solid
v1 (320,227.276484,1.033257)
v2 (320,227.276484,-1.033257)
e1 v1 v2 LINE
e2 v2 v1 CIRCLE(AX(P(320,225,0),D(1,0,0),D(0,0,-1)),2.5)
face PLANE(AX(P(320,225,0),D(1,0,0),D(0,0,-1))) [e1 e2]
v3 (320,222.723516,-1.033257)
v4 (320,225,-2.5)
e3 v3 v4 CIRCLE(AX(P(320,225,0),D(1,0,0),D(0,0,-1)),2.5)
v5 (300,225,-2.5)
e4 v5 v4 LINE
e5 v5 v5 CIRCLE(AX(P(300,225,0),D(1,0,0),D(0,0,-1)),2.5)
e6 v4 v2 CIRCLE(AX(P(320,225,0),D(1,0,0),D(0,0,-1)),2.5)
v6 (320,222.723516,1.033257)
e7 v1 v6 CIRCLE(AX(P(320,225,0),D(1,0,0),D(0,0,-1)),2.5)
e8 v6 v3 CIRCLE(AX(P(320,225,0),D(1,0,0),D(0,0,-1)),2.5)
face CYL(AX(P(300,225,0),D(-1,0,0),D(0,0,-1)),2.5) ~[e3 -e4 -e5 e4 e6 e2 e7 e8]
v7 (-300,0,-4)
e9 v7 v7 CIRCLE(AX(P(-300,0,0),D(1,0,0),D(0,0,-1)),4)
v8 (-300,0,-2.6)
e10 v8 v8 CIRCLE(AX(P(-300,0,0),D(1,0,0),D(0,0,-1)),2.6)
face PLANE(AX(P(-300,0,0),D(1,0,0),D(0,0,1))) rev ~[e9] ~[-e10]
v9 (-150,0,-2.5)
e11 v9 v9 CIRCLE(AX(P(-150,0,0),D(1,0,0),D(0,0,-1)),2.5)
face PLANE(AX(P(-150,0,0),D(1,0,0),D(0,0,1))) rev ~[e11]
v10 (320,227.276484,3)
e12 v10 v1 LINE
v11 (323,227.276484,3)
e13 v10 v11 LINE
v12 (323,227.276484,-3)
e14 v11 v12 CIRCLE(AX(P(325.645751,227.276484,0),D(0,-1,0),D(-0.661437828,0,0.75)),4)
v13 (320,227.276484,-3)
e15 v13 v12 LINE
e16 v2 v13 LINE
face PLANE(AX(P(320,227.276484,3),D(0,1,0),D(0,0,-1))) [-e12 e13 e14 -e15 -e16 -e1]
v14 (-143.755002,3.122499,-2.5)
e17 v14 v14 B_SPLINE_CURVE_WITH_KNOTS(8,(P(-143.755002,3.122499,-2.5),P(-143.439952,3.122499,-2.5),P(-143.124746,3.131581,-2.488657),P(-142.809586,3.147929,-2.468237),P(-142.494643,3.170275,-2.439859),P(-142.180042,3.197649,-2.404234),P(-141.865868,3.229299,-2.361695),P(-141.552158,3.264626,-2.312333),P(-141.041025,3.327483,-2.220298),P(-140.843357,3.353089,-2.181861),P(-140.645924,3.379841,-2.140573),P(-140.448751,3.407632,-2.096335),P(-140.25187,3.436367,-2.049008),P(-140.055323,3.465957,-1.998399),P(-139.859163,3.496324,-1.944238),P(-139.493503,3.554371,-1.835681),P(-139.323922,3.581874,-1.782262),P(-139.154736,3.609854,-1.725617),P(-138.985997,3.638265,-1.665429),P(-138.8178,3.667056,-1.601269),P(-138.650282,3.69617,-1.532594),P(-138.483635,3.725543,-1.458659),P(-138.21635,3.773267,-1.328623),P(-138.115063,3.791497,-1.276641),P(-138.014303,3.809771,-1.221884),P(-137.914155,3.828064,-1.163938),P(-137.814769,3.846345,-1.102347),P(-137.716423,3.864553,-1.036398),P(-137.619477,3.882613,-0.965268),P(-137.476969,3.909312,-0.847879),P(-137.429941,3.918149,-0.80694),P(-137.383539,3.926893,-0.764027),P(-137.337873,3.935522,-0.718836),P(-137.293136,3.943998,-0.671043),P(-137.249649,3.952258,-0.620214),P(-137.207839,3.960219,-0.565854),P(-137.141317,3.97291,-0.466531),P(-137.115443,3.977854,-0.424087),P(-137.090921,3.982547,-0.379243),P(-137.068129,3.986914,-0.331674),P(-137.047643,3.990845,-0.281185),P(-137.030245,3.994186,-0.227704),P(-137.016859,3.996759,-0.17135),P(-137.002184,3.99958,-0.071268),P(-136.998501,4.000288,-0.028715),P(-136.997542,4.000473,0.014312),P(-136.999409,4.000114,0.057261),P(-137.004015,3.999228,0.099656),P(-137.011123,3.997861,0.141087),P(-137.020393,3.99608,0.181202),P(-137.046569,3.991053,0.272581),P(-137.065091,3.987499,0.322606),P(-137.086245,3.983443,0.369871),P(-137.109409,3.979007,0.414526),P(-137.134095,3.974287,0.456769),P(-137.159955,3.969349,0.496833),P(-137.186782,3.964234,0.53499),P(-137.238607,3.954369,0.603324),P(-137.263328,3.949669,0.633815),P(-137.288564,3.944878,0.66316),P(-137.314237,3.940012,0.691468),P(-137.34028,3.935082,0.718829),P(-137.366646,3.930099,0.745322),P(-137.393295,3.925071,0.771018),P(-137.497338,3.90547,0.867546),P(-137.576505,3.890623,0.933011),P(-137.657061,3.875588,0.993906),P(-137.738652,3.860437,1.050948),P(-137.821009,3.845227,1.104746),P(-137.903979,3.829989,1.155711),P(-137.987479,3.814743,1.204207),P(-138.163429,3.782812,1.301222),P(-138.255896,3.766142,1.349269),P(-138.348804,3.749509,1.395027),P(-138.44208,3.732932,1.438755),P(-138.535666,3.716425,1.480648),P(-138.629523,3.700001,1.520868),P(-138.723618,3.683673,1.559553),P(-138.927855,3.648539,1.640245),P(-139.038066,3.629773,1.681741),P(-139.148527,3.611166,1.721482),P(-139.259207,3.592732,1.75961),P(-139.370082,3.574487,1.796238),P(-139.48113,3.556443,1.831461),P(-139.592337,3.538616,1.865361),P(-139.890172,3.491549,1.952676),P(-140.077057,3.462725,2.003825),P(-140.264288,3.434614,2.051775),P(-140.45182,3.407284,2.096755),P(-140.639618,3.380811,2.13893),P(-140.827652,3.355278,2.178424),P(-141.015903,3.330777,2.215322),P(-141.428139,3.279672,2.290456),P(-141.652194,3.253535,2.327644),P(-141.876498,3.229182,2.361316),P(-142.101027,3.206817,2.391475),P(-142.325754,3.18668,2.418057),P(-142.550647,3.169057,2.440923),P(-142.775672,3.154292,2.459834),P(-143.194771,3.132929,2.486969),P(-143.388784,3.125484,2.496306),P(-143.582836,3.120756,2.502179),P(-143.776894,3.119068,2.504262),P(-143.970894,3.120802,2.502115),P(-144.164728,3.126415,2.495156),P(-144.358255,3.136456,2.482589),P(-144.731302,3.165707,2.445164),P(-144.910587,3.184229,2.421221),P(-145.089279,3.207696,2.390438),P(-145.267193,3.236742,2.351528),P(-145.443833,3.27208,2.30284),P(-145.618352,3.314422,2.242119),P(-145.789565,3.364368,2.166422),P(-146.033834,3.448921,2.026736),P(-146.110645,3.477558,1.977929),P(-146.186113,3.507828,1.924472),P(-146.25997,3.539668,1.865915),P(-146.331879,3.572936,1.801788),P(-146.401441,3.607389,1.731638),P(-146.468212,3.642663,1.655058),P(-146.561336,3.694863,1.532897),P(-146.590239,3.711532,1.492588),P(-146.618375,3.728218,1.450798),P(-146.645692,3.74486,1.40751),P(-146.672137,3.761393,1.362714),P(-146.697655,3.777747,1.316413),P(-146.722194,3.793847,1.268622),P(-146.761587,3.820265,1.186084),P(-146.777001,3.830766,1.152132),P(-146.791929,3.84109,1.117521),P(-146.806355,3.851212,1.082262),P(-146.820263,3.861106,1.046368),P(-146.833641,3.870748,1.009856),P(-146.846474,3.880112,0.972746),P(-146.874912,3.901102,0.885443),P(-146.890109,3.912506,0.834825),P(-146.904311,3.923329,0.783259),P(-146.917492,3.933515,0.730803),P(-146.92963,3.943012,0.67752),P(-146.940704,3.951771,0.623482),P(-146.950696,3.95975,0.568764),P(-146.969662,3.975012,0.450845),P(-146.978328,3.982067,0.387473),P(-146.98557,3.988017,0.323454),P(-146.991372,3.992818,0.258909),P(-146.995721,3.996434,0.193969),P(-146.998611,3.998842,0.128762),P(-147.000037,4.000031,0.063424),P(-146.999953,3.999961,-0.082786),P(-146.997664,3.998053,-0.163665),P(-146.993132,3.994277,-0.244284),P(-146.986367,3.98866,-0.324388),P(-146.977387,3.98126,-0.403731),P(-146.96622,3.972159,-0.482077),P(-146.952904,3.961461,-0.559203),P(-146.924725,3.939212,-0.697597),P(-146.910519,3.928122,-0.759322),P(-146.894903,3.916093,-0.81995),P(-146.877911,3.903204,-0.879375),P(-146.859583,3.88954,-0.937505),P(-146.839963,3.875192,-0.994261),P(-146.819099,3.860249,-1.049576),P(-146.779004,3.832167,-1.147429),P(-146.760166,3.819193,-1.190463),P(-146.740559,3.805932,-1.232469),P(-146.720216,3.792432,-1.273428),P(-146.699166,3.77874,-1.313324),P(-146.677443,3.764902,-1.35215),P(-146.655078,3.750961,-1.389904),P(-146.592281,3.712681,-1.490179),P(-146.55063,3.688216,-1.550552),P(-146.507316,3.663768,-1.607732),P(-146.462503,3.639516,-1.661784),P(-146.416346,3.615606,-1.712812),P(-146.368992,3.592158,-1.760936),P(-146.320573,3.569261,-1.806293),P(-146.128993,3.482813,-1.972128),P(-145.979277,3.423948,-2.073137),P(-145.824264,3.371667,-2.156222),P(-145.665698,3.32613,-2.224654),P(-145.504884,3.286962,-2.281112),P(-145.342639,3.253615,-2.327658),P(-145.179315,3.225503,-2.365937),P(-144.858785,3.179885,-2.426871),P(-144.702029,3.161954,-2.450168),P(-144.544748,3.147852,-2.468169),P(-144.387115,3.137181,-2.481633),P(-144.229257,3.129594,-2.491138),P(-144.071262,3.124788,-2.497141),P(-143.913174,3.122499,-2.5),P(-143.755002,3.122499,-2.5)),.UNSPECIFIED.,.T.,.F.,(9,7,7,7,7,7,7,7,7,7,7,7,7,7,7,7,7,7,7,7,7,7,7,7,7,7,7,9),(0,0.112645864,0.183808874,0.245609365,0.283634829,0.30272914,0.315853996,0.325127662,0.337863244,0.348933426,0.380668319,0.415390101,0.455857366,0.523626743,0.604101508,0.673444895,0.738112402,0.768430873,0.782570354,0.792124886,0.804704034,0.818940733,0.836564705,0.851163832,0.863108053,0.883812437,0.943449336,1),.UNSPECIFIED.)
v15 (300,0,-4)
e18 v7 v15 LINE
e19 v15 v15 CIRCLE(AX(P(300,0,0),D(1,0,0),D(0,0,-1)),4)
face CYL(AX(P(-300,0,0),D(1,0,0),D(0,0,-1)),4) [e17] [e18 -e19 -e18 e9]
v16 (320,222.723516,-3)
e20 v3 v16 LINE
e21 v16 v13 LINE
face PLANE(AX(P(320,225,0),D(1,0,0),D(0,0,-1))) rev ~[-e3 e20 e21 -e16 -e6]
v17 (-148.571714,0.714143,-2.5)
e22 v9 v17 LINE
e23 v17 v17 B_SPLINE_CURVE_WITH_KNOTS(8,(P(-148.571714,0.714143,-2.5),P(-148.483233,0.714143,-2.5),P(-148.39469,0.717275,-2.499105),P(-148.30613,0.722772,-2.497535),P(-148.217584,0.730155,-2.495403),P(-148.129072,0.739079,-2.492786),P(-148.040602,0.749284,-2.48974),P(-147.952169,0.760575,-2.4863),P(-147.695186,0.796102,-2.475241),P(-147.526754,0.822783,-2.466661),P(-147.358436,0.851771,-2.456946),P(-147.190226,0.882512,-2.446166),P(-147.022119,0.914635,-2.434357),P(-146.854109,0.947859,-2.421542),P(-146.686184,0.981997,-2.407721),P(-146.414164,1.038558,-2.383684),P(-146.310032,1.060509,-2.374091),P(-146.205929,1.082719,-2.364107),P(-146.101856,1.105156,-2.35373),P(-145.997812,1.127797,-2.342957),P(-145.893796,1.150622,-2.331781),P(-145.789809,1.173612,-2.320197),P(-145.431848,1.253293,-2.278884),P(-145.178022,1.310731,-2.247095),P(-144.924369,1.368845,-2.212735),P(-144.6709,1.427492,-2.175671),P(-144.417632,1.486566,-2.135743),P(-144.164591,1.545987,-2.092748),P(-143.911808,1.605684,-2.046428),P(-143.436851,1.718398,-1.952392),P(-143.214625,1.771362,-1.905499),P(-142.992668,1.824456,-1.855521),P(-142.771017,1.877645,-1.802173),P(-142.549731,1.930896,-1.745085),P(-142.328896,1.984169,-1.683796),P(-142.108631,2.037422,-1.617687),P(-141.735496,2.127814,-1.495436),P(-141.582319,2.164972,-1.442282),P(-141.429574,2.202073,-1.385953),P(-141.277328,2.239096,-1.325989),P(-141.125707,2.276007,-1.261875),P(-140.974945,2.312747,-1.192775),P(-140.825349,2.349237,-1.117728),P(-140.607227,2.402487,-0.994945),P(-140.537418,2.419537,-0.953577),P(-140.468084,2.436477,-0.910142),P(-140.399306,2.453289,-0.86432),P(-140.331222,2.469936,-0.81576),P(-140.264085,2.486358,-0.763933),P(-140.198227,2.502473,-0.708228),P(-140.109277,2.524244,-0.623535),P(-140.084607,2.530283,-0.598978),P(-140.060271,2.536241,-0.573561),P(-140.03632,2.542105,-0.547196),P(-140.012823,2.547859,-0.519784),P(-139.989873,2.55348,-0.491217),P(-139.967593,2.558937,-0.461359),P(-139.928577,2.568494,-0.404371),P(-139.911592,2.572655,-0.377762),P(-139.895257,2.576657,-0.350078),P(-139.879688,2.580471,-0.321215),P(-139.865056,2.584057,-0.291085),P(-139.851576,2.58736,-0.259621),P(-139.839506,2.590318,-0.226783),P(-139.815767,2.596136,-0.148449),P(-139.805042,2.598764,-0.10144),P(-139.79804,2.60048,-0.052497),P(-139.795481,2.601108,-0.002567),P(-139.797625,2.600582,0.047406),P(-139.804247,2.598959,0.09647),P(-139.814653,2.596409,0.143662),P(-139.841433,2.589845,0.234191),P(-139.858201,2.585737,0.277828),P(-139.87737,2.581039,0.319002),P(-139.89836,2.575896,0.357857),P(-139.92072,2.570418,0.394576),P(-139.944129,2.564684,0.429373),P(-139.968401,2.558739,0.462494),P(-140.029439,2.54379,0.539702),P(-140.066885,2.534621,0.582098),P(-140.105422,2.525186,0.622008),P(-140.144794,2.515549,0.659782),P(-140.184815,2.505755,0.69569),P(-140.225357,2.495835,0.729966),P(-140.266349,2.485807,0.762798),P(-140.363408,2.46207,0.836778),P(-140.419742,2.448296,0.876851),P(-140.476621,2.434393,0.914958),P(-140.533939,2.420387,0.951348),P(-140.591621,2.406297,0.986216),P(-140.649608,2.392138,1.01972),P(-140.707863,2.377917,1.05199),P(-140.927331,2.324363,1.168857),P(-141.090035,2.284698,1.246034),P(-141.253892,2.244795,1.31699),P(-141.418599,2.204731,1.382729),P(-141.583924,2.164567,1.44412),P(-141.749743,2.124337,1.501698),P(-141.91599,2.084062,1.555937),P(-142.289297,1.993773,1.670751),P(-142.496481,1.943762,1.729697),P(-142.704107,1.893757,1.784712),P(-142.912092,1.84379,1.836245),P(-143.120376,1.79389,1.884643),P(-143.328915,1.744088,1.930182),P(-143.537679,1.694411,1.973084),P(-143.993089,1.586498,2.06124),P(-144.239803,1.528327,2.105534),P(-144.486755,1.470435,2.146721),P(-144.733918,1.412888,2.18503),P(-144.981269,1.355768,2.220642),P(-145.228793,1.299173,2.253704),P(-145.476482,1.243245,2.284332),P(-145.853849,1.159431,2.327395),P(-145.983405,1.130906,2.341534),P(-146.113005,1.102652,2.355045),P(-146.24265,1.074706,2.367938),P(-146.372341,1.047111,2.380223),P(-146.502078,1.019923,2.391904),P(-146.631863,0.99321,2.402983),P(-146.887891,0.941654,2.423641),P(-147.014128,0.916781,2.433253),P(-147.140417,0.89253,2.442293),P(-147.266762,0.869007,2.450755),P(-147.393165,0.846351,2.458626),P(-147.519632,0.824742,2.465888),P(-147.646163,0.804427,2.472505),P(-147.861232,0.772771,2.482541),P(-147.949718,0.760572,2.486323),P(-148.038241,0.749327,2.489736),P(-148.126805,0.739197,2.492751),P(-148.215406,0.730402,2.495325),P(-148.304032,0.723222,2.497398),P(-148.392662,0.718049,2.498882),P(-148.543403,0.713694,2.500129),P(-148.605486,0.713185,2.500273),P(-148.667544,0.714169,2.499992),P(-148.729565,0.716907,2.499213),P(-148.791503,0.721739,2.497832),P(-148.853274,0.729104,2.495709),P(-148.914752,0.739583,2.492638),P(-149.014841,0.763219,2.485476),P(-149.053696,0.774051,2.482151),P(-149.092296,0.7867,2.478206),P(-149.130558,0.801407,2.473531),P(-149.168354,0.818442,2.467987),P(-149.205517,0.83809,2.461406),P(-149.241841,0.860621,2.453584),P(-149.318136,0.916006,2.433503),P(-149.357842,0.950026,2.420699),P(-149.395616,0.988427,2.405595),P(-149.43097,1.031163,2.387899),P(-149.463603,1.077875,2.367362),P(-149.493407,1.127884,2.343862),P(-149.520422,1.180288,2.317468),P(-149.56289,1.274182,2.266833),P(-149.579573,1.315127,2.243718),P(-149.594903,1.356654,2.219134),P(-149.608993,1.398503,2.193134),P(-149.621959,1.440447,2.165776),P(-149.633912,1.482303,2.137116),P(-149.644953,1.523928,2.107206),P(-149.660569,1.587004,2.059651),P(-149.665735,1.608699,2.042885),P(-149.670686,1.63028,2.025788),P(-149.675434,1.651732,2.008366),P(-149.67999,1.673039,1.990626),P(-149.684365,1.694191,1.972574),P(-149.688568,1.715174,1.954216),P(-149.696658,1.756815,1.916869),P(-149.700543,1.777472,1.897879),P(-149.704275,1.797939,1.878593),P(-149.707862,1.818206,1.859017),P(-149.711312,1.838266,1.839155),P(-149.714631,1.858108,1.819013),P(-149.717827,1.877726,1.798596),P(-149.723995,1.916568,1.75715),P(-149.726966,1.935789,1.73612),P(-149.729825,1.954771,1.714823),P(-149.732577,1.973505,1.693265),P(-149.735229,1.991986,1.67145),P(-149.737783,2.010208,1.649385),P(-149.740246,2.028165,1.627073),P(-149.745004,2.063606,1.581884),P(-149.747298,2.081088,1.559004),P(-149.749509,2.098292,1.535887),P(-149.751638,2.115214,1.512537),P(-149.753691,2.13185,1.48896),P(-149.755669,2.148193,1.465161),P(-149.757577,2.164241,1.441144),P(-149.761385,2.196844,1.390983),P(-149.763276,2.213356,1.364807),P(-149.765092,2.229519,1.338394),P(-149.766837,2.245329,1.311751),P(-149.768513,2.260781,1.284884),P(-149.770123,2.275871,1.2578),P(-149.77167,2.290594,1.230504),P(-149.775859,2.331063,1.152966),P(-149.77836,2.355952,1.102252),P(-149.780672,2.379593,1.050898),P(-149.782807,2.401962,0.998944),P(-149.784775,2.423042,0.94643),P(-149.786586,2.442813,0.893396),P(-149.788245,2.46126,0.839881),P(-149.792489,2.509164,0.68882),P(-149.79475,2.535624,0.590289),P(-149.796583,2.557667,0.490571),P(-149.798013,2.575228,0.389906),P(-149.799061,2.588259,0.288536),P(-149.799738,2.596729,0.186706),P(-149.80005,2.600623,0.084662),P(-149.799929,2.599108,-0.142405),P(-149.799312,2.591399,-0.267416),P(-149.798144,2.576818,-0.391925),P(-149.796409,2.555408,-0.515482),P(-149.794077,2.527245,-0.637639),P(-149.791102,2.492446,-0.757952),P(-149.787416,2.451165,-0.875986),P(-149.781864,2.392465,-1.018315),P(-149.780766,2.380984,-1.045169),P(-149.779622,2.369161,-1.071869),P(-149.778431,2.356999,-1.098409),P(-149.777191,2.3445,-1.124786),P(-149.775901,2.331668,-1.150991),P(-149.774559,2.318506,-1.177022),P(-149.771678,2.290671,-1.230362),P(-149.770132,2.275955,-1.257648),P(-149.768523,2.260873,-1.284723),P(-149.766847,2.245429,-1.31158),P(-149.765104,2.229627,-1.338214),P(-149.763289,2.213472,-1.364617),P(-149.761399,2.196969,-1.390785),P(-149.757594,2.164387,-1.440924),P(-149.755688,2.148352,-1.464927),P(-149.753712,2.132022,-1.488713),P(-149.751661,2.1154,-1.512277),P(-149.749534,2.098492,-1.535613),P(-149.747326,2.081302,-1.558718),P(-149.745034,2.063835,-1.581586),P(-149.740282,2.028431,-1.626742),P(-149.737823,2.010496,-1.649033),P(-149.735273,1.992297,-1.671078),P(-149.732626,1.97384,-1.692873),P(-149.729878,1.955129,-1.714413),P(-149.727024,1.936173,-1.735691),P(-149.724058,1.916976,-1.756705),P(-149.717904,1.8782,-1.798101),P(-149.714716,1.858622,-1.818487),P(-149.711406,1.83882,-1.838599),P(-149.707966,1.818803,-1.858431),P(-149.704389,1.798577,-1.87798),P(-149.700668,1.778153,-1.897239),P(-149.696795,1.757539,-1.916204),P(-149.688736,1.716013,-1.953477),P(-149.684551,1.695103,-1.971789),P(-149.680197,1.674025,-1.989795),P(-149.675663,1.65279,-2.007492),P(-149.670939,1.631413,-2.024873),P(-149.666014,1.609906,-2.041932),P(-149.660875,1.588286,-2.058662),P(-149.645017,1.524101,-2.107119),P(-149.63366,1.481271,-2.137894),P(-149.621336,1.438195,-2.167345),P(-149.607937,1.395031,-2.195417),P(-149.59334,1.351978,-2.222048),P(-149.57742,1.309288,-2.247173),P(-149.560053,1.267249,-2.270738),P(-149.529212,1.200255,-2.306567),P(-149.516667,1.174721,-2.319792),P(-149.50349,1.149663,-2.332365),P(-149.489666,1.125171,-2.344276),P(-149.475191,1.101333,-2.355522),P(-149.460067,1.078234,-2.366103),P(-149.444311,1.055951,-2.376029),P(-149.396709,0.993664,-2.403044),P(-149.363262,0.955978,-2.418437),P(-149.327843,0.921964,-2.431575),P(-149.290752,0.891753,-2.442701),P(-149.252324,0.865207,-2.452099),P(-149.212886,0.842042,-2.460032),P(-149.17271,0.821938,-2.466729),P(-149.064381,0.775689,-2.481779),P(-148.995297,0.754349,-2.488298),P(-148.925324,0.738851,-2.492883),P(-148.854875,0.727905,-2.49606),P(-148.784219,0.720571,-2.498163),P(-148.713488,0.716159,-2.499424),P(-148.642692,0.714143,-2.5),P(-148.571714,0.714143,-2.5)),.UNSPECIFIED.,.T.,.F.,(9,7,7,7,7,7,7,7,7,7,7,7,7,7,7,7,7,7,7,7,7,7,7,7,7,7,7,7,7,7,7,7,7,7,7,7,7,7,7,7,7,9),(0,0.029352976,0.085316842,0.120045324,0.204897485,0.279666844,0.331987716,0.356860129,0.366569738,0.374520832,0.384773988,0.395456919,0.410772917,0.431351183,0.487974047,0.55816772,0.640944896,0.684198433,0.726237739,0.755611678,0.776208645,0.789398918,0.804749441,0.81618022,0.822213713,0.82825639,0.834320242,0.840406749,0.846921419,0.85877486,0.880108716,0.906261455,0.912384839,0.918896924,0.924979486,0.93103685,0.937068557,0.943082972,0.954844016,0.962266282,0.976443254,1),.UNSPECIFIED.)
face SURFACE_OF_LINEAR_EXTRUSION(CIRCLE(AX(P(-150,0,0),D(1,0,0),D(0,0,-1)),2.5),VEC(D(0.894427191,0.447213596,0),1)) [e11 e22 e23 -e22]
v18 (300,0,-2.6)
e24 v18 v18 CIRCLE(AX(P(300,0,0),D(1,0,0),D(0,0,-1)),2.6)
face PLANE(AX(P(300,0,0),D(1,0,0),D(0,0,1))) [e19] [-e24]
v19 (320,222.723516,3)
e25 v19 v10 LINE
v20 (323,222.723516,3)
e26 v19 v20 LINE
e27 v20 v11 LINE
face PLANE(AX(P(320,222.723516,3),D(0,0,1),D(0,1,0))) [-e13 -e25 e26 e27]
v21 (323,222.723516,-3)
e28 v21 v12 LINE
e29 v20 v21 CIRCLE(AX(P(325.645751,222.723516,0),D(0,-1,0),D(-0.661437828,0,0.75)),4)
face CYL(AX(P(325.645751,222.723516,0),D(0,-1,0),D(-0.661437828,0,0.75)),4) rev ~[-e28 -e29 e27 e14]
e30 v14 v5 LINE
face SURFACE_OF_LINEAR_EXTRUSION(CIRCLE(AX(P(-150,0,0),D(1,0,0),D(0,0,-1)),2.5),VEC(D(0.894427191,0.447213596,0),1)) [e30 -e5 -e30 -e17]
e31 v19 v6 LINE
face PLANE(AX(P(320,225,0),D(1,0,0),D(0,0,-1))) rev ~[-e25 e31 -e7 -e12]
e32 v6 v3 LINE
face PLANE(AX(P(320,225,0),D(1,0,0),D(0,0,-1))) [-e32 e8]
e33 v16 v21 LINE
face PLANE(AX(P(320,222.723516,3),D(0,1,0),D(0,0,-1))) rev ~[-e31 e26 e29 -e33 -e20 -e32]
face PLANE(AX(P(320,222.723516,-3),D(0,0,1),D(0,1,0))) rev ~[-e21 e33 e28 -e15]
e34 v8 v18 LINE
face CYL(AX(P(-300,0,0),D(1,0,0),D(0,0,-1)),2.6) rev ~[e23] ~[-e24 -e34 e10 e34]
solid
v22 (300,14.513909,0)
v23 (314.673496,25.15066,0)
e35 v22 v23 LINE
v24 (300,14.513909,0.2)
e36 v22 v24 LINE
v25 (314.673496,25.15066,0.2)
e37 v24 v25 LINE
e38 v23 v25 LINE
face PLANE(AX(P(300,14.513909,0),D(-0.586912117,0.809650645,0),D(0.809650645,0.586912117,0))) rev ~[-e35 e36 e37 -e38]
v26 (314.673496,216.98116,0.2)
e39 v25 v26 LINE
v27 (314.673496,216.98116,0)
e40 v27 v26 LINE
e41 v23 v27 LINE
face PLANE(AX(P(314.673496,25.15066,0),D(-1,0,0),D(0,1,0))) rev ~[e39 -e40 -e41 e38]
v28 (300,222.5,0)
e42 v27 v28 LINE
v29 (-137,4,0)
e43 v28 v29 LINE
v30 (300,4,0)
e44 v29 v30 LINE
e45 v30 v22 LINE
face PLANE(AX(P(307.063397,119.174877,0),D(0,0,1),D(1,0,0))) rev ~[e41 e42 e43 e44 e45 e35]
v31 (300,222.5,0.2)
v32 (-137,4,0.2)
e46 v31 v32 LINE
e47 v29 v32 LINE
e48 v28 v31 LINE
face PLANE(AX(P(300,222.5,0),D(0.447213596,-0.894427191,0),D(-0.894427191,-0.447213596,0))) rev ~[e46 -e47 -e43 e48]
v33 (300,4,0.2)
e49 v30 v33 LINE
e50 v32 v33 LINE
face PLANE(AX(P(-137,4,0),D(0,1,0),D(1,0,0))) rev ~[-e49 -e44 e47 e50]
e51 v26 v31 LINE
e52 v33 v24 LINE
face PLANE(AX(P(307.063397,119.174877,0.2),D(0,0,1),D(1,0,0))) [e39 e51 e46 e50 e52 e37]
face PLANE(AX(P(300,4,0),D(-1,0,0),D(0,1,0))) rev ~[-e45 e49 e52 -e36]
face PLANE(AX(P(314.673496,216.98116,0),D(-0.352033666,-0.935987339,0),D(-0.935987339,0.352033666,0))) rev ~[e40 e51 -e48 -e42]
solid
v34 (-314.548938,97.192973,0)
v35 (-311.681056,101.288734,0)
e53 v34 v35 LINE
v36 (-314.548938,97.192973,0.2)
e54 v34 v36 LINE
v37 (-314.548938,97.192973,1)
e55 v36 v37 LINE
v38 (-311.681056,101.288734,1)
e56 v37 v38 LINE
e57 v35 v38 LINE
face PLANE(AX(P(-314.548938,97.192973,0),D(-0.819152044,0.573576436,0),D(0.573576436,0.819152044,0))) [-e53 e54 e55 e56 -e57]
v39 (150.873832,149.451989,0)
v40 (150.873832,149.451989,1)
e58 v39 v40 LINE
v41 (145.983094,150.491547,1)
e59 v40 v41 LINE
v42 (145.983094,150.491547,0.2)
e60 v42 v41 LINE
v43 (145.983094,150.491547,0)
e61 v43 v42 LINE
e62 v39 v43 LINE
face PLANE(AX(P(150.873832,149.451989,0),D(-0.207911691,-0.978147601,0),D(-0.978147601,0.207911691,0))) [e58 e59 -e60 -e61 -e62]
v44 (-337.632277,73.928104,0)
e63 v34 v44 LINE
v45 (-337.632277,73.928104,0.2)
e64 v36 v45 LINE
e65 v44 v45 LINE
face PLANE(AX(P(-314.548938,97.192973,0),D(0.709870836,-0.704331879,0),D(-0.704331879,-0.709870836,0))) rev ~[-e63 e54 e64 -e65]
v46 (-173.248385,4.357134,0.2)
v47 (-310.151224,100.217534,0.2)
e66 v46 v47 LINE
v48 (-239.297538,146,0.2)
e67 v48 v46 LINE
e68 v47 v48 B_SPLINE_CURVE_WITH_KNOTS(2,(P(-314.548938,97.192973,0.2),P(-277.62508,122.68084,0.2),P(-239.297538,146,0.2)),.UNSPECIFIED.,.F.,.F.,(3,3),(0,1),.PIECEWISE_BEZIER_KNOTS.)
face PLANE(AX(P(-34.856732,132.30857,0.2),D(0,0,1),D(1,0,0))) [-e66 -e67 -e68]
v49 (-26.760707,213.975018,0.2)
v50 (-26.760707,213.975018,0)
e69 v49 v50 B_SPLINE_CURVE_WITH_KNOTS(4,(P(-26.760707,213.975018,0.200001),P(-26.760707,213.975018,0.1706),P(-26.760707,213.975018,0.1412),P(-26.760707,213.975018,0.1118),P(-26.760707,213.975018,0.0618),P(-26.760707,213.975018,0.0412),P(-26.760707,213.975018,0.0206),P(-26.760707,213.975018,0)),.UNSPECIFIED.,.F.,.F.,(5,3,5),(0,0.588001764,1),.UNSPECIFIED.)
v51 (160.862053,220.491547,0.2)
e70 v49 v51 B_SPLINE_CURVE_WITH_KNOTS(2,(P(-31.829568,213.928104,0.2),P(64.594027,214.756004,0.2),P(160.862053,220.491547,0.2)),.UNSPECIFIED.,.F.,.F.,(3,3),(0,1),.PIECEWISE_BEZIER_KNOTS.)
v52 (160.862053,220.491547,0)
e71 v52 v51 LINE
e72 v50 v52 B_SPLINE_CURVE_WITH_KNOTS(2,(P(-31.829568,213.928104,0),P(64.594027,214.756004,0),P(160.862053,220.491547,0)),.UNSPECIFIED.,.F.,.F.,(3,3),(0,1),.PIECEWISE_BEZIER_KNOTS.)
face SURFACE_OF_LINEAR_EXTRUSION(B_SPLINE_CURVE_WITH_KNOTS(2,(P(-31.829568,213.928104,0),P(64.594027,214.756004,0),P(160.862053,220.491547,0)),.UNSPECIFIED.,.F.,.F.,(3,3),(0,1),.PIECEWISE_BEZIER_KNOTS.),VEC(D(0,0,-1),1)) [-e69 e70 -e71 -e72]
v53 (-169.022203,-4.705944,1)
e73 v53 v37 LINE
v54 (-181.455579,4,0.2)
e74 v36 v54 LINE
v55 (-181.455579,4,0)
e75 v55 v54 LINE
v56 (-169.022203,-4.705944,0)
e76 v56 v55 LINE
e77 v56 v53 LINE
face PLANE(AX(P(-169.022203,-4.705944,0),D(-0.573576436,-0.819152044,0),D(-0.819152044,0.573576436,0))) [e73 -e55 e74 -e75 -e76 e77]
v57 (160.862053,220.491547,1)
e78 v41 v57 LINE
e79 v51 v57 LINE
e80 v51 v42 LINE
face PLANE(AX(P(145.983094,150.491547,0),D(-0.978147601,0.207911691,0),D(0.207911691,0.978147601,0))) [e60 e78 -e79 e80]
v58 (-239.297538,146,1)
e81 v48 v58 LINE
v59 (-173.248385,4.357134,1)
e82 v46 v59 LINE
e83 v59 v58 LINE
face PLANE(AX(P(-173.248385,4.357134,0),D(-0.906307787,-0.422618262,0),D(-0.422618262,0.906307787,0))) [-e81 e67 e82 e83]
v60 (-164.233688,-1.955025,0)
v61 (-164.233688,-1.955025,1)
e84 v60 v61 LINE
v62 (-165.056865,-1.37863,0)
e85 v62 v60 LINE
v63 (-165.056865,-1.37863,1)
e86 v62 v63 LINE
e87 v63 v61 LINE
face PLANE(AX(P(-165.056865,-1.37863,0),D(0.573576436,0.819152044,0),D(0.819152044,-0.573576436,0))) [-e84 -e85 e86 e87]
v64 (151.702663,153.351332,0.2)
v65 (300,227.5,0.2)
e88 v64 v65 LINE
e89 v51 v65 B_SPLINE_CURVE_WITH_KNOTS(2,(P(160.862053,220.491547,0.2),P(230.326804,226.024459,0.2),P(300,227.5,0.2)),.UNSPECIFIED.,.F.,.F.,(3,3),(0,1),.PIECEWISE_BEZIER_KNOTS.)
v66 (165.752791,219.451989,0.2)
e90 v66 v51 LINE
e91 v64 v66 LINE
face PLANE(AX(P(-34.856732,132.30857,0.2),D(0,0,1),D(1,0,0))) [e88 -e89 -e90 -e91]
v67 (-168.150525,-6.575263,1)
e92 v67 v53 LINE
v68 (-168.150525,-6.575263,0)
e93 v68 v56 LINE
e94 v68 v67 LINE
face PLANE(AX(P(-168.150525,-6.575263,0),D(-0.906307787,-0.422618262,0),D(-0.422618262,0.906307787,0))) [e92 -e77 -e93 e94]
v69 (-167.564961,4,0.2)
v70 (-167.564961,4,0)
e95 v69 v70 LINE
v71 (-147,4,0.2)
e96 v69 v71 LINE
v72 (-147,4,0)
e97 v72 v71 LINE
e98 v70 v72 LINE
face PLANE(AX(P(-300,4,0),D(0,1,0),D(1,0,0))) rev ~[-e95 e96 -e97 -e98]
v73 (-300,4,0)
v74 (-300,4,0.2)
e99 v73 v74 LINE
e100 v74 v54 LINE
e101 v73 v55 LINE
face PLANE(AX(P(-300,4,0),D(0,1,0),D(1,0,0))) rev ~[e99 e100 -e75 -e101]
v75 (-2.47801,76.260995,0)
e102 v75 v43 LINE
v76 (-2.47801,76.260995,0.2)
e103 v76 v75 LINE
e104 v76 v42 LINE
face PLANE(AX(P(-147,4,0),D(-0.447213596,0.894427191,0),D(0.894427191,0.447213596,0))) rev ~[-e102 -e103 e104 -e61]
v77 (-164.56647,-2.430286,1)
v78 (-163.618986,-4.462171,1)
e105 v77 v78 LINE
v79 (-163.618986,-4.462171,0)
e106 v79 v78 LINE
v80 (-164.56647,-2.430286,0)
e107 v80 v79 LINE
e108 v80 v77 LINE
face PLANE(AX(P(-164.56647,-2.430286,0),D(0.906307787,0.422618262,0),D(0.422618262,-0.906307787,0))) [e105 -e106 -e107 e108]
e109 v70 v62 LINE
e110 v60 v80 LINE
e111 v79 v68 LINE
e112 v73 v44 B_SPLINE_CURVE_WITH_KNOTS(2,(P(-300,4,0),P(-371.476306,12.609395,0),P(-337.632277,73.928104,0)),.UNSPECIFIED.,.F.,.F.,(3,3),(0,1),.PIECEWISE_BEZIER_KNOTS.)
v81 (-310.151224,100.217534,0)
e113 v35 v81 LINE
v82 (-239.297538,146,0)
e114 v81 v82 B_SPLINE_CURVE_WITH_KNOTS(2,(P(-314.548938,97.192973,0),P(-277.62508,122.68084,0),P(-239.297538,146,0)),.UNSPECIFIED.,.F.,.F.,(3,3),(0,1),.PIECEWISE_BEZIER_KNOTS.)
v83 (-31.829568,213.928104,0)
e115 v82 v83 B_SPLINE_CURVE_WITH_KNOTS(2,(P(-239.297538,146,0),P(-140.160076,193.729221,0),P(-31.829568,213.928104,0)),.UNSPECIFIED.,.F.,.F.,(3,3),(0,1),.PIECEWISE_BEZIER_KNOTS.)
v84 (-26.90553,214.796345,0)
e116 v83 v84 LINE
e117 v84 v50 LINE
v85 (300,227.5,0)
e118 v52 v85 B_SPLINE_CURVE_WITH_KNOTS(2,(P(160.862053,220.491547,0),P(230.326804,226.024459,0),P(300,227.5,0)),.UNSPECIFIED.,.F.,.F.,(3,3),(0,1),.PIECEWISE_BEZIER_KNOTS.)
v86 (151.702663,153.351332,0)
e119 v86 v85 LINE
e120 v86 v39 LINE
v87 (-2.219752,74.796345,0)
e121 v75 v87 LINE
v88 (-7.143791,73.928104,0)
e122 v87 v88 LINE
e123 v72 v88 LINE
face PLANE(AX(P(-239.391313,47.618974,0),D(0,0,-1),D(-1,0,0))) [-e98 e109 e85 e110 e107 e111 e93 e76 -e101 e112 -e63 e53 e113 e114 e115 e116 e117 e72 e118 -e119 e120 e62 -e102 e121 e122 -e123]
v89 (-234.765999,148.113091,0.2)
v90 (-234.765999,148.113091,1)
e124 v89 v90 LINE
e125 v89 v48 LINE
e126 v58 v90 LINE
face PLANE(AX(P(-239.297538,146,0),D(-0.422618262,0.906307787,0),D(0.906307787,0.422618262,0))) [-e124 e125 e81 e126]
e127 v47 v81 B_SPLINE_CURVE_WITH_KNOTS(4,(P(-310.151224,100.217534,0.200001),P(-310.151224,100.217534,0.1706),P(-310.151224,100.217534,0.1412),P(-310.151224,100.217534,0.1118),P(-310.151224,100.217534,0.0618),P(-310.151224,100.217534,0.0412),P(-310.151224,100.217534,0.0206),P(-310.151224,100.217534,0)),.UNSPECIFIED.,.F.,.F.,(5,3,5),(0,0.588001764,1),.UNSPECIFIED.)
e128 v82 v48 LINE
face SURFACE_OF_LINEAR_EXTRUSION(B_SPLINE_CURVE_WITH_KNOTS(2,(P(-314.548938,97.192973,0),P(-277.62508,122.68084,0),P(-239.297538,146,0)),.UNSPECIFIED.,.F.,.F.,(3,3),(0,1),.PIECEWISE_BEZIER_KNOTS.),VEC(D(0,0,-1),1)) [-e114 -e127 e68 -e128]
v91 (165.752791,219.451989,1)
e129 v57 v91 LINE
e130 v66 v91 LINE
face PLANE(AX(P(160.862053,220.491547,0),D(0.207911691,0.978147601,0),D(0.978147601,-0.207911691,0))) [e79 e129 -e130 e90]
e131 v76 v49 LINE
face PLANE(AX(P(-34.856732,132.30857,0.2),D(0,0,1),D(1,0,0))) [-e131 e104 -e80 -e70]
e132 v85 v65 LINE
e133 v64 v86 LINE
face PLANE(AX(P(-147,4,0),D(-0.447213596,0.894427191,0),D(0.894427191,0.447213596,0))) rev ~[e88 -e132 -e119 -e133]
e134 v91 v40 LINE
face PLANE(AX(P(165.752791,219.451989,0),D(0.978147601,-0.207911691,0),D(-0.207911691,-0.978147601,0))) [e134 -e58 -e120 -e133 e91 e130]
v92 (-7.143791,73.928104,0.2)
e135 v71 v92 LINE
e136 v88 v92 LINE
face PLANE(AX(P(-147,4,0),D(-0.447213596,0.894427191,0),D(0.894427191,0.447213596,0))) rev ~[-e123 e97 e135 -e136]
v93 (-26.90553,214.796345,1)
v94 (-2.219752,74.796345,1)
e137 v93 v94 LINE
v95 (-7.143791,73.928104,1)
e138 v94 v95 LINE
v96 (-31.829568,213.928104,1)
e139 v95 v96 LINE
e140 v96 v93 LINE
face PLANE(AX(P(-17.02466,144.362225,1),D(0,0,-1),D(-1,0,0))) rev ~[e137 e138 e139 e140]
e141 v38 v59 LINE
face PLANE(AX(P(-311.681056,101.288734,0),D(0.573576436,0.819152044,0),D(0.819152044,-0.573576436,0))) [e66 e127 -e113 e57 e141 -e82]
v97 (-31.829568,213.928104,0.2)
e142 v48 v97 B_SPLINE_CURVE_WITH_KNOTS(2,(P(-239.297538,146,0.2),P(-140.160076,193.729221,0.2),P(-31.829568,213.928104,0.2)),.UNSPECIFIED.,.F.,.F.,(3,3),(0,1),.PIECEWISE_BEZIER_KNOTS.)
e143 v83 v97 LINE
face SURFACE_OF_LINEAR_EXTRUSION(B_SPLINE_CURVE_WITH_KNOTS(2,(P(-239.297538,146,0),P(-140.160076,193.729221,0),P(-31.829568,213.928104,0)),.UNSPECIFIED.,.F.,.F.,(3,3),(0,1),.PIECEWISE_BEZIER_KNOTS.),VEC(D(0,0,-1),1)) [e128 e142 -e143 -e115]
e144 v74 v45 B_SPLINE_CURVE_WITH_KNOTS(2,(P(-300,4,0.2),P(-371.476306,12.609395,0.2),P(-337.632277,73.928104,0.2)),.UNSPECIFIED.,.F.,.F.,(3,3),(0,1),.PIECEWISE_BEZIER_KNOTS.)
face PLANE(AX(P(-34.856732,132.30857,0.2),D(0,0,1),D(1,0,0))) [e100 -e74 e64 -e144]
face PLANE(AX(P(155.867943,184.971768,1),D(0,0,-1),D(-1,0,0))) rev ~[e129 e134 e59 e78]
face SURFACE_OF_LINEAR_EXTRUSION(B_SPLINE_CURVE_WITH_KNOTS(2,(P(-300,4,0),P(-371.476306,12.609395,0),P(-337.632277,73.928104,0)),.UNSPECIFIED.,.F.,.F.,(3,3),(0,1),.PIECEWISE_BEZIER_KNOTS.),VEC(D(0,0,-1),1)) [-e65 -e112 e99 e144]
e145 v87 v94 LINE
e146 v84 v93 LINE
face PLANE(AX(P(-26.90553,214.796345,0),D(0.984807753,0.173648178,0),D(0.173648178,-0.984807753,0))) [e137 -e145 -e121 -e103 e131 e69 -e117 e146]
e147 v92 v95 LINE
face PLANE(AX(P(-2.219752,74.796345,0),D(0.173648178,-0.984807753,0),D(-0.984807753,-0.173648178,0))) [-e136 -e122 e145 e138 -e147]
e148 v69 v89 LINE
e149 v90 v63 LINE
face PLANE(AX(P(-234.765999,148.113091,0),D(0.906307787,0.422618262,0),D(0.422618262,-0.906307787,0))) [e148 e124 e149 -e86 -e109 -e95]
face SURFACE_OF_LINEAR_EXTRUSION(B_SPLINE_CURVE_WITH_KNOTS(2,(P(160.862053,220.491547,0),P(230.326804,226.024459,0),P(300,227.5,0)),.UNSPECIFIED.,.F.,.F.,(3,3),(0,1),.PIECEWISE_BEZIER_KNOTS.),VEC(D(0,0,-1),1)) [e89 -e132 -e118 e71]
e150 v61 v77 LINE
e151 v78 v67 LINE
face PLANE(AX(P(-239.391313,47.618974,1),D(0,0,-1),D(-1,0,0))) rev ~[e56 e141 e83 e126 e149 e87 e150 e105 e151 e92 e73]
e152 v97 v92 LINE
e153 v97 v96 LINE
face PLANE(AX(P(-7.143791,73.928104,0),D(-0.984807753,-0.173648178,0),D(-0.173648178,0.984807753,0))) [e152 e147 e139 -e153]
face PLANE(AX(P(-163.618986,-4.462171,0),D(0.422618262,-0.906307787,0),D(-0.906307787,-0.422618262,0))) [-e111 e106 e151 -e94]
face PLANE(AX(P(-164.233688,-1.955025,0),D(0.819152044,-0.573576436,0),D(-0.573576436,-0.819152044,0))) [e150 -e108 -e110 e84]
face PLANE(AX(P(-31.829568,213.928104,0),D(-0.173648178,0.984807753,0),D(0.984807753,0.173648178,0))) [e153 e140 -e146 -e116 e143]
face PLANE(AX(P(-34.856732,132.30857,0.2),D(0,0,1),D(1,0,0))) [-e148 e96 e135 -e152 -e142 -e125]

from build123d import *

# Parameters (mm, degrees)
SKETCH2_R            = 4
SKETCH2_R_2          = 2.6
SKETCH4_R            = 2.5
BOSS_EXTRUDE1_DEPTH  = 0.2
EXTRUDE_THIN1_DEPTH  = 1
BOSS_EXTRUDE5_DEPTH  = 0.2
BOSS_EXTRUDE8_DEPTH  = 0.2
SKETCH9_R            = 2.5
BOSS_EXTRUDE9_DEPTH  = 20
SKETCH13_W           = 6
SKETCH13_H           = 4.552968098
BOSS_EXTRUDE11_DEPTH = 3
CUT_EXTRUDE2_DEPTH   = 22


with BuildPart() as part:
    # Sweep1: sweep along a path in Sketch1
    with BuildLine(Plane.XY) as sweep1_path:
        Line((-300, 0), (300, 0))
    # Sketch2 → Sweep1 (sweep)
    with BuildSketch(Plane(origin=(-300, 0, 0), x_dir=(0, 0, -1), z_dir=(1, 0, 0))):
        Circle(SKETCH2_R)
        Circle(SKETCH2_R_2, mode=Mode.SUBTRACT)
    sweep(path=sweep1_path.line)

    # Sweep2: sweep along a path in Sketch3
    with BuildLine(Plane.XY) as sweep2_path:
        Line((-150, 0), (300, 225))
    # Sketch4 → Sweep2 (sweep)
    with BuildSketch(Plane(origin=(300, 0, 0), x_dir=(0, 0, -1), z_dir=(1, 0, 0))):
        with Locations((0, 225)):
            Circle(SKETCH4_R)
    sweep(path=sweep2_path.line)

    # Sketch9 → Boss-Extrude9 (add)
    with BuildSketch(Plane(origin=(300, 0, 0), x_dir=(0, 0, -1), z_dir=(1, 0, 0))):
        with Locations((0, 225)):
            Circle(SKETCH9_R)
    extrude(amount=BOSS_EXTRUDE9_DEPTH)

    # Sketch13 → Boss-Extrude11 (add)
    with BuildSketch(Plane(origin=(320, 0, 0), x_dir=(0, 0, -1), z_dir=(1, 0, 0))):
        with Locations((0, 225)):
            Rectangle(SKETCH13_W, SKETCH13_H)
    extrude(amount=BOSS_EXTRUDE11_DEPTH)

    # Sketch14 → Cut-Extrude2 (cut)
    with BuildSketch(Plane.XZ.offset(-222.723515951)):
        with BuildLine():
            ThreePointArc((323, 3), (321.645751311, 0), (323, -3))
            Line((323, -3), (323, 3))
        make_face()
    extrude(amount=-CUT_EXTRUDE2_DEPTH, mode=Mode.SUBTRACT)


with BuildPart() as body_2:
    # Sketch5 → Boss-Extrude1 (new body)
    with BuildSketch(Plane.XY):
        with BuildLine():
            Line((-147, 4), (300, 227.5))
            add(Edge.make_bspline(
                [(160.862053395, 220.491547039), (230.326804025, 226.024459276), (300, 227.5)],
                knots=[0, 0, 0, 1, 1, 1], degree=2))
            add(Edge.make_bspline(
                [(-31.829568459, 213.92810442), (64.59402736, 214.756003993), (160.862053395, 220.491547039)],
                knots=[0, 0, 0, 1, 1, 1], degree=2))
            add(Edge.make_bspline(
                [(-239.297538389, 146), (-140.160075695, 193.72922093), (-31.829568459, 213.92810442)],
                knots=[0, 0, 0, 1, 1, 1], degree=2))
            add(Edge.make_bspline(
                [(-314.548938061, 97.192973499), (-277.625079571, 122.680840467), (-239.297538389, 146)],
                knots=[0, 0, 0, 1, 1, 1], degree=2))
            Line((-314.548938061, 97.192973499), (-337.63227676, 73.92810442))
            add(Edge.make_bspline(
                [(-300, 4), (-371.476306472, 12.609395253), (-337.63227676, 73.92810442)],
                knots=[0, 0, 0, 1, 1, 1], degree=2))
            Line((-300, 4), (-147, 4))
        make_face()
    extrude(amount=BOSS_EXTRUDE1_DEPTH)

    # Sketch5<3> → Extrude-Thin1 (add)
    with BuildSketch(Plane.XY):
        Polygon((-167.101570089, -6.050785045), (-314.548938061, 97.192973499), (-311.681055879, 101.28873372), (-164.233687907, -1.955024823), align=None)
        Polygon((-168.150525033, -6.575262516), (-239.297538389, 146), (-234.765999454, 148.113091309), (-163.618986098, -4.462171208), align=None)
        Polygon((-7.14379116, 73.92810442), (-31.829568459, 213.92810442), (-26.905529694, 214.796345309), (-2.219752395, 74.796345309), align=None)
        Polygon((145.983094078, 150.491547039), (160.862053395, 220.491547039), (165.752791399, 219.451988585), (150.873832082, 149.451988585), align=None)
    extrude(amount=EXTRUDE_THIN1_DEPTH)


with BuildPart() as body_3:
    # Sketch6 → Boss-Extrude5 (new body)
    with BuildSketch(Plane.XY):
        Polygon((300, 4), (300, 222.5), (-137, 4), align=None)
    extrude(amount=BOSS_EXTRUDE5_DEPTH)

    # Sketch8 → Boss-Extrude8 (add)
    with BuildSketch(Plane.XY):
        Polygon((314.67349594, 216.981159788), (300, 222.5), (300, 14.513908711), (314.67349594, 25.150660034), align=None)
    extrude(amount=BOSS_EXTRUDE8_DEPTH)


solid = Compound([part.part, body_2.part, body_3.part])
